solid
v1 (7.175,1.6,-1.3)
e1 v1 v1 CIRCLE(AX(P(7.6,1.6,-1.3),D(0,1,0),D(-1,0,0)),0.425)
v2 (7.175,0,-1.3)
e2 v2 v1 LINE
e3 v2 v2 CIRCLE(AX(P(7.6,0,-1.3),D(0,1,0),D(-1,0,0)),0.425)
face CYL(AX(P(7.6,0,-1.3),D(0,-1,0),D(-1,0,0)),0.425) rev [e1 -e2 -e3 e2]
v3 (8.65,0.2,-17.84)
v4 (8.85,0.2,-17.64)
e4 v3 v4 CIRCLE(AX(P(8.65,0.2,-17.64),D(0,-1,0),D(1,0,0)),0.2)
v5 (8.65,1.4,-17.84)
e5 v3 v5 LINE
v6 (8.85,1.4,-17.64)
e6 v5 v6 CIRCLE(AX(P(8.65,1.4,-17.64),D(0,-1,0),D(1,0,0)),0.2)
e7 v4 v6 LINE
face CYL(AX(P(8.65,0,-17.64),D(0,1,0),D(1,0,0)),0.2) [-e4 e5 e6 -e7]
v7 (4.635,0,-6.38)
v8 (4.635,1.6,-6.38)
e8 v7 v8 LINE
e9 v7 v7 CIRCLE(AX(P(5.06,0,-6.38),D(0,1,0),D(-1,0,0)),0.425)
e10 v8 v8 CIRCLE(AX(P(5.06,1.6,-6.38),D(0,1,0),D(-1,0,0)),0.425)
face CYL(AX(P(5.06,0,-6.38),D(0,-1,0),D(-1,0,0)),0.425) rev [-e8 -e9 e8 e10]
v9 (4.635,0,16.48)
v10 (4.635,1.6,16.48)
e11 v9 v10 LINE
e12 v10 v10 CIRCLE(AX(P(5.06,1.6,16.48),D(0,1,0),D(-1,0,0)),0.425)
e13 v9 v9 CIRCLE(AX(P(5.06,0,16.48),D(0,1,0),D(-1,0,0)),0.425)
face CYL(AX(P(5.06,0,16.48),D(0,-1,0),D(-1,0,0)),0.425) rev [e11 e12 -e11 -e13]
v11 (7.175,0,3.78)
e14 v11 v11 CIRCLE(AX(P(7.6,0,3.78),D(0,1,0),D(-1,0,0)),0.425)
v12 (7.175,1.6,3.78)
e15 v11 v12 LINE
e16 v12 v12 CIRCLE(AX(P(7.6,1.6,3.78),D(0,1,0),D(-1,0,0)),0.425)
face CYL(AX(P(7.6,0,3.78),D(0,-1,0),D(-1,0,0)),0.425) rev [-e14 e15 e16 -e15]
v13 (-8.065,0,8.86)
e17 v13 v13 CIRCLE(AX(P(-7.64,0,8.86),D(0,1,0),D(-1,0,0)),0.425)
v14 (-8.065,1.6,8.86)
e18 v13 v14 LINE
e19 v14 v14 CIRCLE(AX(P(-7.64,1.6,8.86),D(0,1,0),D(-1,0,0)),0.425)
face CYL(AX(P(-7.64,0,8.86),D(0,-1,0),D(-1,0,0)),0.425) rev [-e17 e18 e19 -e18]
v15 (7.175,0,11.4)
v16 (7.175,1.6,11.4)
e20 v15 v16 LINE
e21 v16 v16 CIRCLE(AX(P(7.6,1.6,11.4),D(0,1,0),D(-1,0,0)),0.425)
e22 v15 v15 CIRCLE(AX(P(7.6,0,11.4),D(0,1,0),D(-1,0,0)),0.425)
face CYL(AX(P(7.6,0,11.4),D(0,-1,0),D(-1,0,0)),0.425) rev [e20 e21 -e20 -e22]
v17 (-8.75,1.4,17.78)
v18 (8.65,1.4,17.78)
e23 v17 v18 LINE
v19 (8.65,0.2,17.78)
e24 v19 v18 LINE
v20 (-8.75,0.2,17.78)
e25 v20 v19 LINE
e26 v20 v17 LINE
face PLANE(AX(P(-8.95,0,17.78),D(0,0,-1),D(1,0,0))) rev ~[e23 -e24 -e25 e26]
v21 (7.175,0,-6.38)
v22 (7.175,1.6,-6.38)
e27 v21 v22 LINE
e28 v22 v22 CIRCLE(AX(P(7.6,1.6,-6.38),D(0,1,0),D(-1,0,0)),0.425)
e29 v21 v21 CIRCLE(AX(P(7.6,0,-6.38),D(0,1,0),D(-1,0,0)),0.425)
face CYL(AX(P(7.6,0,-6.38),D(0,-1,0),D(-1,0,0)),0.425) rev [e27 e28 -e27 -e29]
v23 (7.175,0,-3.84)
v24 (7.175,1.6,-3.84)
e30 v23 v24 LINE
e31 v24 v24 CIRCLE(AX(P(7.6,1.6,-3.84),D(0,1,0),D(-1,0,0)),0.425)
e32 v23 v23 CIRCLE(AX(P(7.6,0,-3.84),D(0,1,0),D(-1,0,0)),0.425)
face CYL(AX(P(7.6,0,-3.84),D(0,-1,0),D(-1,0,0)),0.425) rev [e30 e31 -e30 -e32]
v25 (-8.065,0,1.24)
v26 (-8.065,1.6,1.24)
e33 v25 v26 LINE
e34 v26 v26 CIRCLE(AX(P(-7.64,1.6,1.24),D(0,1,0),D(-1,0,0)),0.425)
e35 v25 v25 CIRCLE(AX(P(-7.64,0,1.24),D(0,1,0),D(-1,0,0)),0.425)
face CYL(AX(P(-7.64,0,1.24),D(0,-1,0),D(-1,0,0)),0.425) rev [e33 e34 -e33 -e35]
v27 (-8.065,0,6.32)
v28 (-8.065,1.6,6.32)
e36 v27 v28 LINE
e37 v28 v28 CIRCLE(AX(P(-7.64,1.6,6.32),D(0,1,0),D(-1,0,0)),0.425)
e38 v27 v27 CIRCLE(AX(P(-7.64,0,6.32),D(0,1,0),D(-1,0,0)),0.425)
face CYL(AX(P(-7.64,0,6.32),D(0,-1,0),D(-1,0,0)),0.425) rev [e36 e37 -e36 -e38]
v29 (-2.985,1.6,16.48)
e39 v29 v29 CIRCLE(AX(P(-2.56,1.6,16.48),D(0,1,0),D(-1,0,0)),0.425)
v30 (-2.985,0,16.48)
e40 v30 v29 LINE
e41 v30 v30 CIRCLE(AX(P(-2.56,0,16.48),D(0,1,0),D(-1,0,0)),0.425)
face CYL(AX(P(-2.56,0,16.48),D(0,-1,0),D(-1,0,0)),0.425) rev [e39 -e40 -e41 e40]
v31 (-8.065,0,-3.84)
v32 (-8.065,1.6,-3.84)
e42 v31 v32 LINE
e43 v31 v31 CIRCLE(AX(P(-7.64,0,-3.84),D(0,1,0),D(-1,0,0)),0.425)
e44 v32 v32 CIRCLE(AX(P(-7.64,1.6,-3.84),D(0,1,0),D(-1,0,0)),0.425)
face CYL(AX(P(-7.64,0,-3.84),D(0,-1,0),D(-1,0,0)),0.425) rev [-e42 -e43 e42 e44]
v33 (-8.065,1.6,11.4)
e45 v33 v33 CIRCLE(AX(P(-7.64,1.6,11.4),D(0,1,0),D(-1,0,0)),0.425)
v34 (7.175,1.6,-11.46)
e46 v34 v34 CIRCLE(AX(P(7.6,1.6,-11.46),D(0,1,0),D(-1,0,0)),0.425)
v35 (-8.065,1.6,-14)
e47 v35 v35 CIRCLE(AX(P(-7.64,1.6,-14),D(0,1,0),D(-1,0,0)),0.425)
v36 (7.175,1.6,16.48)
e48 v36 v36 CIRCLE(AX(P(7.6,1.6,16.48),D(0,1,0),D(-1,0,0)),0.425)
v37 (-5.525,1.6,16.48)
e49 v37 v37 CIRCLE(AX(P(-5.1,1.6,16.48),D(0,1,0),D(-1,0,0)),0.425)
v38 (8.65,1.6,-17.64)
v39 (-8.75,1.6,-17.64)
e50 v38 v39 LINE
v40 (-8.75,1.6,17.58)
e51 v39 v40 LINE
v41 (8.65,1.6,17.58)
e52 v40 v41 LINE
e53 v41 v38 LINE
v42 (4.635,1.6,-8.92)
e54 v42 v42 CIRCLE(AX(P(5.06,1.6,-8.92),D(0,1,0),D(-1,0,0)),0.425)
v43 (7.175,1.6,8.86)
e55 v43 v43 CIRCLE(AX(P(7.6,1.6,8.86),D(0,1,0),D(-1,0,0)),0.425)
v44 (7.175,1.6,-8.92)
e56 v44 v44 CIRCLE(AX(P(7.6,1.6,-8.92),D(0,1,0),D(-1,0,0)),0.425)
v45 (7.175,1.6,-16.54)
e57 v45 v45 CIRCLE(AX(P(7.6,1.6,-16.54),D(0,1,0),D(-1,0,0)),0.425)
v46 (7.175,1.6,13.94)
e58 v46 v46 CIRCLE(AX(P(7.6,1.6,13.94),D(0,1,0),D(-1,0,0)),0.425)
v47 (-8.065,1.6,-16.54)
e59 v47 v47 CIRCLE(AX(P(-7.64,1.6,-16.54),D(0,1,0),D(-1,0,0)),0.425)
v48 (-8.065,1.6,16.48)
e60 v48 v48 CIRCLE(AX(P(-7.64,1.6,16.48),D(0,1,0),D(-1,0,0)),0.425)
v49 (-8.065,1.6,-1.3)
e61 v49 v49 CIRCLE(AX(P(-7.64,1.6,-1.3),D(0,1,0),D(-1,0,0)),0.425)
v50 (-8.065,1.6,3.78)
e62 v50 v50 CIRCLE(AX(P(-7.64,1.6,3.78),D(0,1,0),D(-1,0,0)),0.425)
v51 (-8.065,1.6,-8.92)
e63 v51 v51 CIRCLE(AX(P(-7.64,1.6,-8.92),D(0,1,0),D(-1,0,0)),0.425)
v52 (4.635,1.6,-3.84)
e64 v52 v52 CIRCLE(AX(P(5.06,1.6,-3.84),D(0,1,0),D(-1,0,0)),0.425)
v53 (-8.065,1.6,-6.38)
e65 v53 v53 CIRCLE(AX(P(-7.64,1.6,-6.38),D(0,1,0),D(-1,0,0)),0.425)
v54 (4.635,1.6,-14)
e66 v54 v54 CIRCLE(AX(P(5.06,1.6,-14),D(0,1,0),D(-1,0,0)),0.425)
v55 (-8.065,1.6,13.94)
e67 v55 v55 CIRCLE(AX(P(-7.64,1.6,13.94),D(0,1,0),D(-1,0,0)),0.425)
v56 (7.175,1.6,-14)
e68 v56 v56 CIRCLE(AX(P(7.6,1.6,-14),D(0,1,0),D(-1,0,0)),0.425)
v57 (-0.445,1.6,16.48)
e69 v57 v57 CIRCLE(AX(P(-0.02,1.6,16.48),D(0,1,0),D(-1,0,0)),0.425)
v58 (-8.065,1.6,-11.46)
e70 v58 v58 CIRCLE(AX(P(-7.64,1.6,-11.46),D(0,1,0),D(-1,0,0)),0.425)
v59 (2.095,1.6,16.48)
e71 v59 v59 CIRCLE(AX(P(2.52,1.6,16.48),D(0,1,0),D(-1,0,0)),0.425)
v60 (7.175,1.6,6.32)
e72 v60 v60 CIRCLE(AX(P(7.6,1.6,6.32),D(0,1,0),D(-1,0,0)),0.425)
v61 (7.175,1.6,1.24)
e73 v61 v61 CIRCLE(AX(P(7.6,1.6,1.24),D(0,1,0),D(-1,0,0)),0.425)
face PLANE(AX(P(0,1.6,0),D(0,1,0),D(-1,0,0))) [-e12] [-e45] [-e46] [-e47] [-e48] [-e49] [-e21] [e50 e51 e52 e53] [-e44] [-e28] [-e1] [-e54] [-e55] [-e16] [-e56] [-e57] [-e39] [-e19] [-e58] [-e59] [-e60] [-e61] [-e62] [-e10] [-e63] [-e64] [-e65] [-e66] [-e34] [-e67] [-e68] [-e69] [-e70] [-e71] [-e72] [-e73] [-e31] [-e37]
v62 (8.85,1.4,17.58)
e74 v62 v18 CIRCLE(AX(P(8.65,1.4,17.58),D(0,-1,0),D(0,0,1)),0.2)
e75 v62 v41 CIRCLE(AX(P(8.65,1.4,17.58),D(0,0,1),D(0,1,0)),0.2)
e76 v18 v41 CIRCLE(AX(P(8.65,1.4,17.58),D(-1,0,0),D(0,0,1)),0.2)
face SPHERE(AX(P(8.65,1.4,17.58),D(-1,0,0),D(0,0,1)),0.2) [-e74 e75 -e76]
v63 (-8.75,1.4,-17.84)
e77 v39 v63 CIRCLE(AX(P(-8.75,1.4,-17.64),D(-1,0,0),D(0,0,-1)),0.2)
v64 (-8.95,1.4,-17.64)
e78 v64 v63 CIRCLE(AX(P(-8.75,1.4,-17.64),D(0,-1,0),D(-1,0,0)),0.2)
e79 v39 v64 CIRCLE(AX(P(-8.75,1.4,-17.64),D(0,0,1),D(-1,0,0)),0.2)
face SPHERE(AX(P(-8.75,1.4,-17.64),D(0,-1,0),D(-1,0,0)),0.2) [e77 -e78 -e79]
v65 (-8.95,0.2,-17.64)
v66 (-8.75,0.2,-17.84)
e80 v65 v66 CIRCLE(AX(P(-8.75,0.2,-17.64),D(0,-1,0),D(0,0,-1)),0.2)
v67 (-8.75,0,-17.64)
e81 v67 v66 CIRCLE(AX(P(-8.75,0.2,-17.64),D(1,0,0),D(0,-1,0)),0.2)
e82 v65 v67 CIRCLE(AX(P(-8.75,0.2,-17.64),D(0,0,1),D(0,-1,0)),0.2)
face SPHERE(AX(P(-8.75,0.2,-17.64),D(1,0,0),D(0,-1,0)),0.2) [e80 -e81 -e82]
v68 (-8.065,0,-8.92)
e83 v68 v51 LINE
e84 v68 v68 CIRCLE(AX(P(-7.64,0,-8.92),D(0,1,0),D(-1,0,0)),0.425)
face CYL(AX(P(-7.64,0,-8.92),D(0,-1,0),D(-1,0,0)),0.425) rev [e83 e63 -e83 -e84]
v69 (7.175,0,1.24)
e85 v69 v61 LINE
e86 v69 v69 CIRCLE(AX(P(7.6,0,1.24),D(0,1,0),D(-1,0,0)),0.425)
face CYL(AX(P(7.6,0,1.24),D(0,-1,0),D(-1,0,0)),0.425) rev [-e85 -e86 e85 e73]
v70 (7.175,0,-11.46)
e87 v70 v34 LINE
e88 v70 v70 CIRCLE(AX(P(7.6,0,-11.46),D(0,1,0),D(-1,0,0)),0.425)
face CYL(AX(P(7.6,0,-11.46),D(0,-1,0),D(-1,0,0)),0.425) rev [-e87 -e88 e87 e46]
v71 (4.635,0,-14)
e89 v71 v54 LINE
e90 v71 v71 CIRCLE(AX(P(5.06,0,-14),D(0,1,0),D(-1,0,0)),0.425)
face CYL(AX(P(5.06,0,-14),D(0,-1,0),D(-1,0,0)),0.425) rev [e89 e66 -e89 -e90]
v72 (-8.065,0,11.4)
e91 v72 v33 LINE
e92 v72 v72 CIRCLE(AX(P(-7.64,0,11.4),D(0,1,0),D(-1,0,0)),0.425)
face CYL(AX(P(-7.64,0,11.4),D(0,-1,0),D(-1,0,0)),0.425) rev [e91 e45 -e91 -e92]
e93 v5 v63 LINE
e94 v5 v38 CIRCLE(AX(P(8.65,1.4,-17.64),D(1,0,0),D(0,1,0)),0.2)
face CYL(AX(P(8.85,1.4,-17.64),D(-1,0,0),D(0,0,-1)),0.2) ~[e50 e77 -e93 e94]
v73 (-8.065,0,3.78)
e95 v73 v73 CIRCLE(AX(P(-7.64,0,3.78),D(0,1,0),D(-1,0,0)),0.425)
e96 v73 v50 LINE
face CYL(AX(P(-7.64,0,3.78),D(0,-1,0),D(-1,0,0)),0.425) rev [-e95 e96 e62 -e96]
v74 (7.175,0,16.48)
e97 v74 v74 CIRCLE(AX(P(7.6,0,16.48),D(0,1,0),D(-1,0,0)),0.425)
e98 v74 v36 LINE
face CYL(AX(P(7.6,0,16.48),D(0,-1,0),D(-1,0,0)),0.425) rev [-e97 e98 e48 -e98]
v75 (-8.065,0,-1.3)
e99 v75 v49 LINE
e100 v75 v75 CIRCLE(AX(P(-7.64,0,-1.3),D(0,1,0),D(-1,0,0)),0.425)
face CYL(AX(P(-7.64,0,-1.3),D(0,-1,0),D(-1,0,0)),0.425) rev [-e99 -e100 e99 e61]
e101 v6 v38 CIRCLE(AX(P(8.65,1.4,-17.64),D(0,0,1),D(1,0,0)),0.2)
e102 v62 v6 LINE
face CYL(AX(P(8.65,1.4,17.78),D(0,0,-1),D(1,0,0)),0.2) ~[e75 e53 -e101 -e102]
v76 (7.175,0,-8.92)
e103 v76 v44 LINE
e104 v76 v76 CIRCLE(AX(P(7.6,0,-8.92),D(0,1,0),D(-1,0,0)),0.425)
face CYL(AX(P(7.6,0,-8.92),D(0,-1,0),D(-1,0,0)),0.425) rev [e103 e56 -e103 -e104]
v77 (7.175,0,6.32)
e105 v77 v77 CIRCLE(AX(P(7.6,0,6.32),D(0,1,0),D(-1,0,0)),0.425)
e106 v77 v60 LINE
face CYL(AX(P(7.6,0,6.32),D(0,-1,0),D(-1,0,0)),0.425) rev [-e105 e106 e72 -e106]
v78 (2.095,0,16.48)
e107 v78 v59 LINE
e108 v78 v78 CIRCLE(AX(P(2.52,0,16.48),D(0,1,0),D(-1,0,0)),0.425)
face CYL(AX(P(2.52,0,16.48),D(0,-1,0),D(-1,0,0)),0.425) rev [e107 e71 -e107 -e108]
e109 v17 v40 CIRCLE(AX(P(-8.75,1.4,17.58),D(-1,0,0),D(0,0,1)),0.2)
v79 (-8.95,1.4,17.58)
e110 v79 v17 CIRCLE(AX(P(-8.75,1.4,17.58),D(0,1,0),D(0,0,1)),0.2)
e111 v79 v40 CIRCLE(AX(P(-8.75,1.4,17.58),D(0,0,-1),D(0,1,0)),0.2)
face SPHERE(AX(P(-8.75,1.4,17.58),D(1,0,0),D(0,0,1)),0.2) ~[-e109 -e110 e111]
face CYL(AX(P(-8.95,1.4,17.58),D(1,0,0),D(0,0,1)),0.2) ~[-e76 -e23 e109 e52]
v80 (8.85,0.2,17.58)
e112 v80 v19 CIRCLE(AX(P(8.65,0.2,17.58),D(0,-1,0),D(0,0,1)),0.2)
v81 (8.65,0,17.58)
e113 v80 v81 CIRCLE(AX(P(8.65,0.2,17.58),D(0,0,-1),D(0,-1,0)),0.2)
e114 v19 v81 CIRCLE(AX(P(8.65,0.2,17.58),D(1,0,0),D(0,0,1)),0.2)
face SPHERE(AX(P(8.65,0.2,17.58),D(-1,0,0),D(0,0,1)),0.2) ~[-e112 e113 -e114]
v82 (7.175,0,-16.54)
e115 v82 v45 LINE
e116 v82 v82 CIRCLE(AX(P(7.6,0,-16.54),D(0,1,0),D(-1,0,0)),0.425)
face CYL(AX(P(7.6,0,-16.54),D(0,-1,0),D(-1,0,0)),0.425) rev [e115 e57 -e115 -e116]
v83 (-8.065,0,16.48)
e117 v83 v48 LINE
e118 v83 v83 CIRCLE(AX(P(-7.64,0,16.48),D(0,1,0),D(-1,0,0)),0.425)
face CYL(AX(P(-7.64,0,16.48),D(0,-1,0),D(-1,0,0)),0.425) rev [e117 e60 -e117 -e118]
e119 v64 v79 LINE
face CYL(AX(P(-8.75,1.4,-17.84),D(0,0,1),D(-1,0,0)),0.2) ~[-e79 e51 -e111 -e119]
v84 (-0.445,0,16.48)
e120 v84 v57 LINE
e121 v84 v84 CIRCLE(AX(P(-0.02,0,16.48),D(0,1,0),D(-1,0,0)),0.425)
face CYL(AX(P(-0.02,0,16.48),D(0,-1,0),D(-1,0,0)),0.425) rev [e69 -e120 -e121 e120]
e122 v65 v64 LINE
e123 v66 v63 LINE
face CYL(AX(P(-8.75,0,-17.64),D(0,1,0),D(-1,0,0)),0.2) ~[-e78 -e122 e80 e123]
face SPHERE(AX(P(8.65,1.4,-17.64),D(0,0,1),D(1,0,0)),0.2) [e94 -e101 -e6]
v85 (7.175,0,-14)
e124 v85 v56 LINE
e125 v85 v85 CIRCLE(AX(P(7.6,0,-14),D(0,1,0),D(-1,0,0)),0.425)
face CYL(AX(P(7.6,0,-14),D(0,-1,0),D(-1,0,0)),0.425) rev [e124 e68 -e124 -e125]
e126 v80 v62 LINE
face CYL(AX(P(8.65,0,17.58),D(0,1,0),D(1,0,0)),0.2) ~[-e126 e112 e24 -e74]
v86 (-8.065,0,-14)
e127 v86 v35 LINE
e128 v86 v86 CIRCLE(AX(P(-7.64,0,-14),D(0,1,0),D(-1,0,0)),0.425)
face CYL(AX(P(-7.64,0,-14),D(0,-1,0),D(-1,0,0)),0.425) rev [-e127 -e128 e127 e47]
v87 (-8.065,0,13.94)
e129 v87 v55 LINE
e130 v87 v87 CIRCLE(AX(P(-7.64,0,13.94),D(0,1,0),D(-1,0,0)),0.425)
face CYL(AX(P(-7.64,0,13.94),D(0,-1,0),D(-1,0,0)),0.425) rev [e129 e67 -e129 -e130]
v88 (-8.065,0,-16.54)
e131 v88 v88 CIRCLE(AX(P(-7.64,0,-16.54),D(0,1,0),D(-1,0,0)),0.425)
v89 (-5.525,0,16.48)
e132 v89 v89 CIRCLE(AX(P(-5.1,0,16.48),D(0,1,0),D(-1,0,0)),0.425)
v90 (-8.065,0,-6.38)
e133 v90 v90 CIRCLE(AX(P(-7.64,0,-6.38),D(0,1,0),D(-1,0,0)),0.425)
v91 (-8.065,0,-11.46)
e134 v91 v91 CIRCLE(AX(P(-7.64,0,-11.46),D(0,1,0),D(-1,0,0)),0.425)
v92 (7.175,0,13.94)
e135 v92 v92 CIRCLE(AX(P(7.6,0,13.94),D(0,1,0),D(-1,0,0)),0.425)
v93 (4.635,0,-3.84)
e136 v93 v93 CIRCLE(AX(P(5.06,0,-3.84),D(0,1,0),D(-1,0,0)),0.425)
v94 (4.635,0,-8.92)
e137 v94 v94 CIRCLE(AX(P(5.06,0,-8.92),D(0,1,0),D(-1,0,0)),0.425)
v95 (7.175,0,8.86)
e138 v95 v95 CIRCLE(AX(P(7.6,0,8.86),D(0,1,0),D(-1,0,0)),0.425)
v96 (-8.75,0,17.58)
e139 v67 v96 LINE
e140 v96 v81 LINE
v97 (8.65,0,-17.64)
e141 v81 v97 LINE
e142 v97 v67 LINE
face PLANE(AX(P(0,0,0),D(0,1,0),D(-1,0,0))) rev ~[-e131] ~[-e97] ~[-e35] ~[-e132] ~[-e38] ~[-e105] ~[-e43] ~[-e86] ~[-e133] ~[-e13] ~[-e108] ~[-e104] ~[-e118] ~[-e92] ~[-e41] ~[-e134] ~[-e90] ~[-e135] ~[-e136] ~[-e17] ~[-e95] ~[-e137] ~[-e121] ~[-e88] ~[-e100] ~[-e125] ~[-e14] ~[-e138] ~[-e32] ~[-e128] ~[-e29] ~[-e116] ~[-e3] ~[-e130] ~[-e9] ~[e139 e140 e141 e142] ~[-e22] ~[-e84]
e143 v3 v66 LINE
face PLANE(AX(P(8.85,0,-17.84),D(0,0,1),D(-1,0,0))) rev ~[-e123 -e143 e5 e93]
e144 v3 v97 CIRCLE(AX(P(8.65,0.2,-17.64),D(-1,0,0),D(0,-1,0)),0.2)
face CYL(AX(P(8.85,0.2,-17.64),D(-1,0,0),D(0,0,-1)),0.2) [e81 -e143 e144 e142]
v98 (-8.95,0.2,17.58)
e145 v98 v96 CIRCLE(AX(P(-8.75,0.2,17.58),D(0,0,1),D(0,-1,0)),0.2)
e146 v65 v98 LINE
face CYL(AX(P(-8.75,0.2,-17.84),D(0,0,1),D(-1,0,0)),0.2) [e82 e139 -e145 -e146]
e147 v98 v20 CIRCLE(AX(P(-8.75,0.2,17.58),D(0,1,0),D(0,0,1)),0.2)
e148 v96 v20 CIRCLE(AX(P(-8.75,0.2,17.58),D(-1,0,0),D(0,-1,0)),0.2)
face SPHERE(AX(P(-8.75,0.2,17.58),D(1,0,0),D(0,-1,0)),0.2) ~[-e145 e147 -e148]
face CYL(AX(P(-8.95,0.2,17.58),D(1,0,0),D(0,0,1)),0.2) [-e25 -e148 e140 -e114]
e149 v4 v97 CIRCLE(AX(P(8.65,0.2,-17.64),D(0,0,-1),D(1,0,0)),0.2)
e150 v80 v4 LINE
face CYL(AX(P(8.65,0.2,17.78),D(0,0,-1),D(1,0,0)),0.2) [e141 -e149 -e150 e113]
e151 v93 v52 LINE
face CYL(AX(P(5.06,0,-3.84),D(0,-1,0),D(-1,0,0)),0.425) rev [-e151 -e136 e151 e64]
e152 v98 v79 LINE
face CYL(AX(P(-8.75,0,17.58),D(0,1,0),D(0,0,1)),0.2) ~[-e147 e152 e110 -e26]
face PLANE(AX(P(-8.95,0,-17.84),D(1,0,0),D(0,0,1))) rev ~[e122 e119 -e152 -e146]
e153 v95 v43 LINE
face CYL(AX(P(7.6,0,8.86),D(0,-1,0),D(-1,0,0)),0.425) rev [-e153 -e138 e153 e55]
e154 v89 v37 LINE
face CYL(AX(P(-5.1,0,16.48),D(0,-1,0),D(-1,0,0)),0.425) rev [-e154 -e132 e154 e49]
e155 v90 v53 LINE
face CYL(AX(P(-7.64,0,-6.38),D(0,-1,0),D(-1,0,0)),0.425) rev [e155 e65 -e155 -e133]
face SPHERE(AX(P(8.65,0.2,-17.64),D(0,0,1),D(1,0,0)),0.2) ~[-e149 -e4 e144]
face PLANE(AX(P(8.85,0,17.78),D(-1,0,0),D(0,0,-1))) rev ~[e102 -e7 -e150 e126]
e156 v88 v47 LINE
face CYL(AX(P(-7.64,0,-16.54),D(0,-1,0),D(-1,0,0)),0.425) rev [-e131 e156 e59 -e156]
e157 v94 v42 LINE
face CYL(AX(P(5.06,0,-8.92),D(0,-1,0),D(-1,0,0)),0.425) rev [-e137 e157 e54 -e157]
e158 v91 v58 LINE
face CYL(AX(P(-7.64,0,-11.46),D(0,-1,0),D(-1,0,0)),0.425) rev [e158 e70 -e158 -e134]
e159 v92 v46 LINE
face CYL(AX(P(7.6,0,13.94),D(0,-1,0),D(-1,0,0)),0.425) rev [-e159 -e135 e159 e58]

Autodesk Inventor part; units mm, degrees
ref_plane "YZ Plane" through (0, 0, 0) normal (1, 0, 0) x (0, 1, 0)
sketch "Schizzo1" plane through (0, 0, 0) normal (0, 1, 0) x (-1, 0, 0)
  line L0 (-8.85, -17.84) -> (8.95, -17.84)
  line L1 (8.95, -17.84) -> (8.95, 17.78)
  line L2 (8.95, 17.78) -> (-8.85, 17.78)
  line L3 (-8.85, 17.78) -> (-8.85, -17.84)
  line L4 (-8.85, 17.78) -> (8.95, -17.84) construction
  line L5 (8.95, 17.78) -> (-8.85, -17.84) construction
  line L6 (8.95, 16.48) -> (-8.95, 16.48) construction
  line L7 (-7.6, 17.78) -> (-7.6, -17.84) construction
  circle A0 centre (-7.6, 16.48) radius 0.425
  circle A1 centre (-7.6, 13.94) radius 0.425
  circle A2 centre (-7.6, 11.4) radius 0.425
  circle A3 centre (-7.6, 8.86) radius 0.425
  circle A4 centre (-7.6, 6.32) radius 0.425
  circle A5 centre (-7.6, 3.78) radius 0.425
  circle A6 centre (-7.6, 1.24) radius 0.425
  circle A7 centre (-7.6, -1.3) radius 0.425
  circle A8 centre (-7.6, -3.84) radius 0.425
  circle A9 centre (-7.6, -6.38) radius 0.425
  circle A10 centre (-7.6, -8.92) radius 0.425
  circle A11 centre (-7.6, -11.46) radius 0.425
  circle A12 centre (-7.6, -14) radius 0.425
  circle A13 centre (-7.6, -16.54) radius 0.425
  circle A14 centre (-5.06, 16.48) radius 0.425
  circle A15 centre (-2.52, 16.48) radius 0.425
  circle A16 centre (0.02, 16.48) radius 0.425
  circle A17 centre (2.56, 16.48) radius 0.425
  circle A18 centre (5.1, 16.48) radius 0.425
  circle A19 centre (7.64, 16.48) radius 0.425
  circle A20 centre (7.64, 13.94) radius 0.425
  circle A21 centre (7.64, 11.4) radius 0.425
  circle A22 centre (7.64, 8.86) radius 0.425
  circle A23 centre (7.64, 6.32) radius 0.425
  circle A24 centre (7.64, 3.78) radius 0.425
  circle A25 centre (7.64, 1.24) radius 0.425
  circle A26 centre (7.64, -1.3) radius 0.425
  circle A27 centre (7.64, -3.84) radius 0.425
  circle A28 centre (7.64, -6.38) radius 0.425
  circle A29 centre (7.64, -8.92) radius 0.425
  circle A30 centre (7.64, -11.46) radius 0.425
  circle A31 centre (7.64, -14) radius 0.425
  circle A32 centre (7.64, -16.54) radius 0.425
  circle A33 centre (-5.06, -14) radius 0.425
  circle A34 centre (-5.06, -8.92) radius 0.425
  circle A35 centre (-5.06, -6.38) radius 0.425
  circle A36 centre (-5.06, -3.84) radius 0.425
  point P0 (0, 0)
  point P1 (0.05, -0.03)
  dimension "d0" = 17.8
  dimension "d1" = 35.62
  dimension "d4" = 1.3
  dimension "d5" = 1.25
  dimension "d6" = 0.85
  dimension "d9" = 2.54
  dimension "d16" = 2.54
  dimension "d23" = 2.54
  dimension "d79" = 2.54
extrude "Estrusione2" add sketch "Schizzo1" along normal blind 1.6
fillet "Raccordo1" radius 0.2 12 edges at (-0.05, 0, 17.78) (-0.05, 1.6, 17.78) (8.85, 0.8, 17.78) (8.85, 0, -0.03) (8.85, 1.6, -0.03) (8.85, 0.8, -17.84) (-0.05, 0, -17.84) (-8.95, 0, -0.03) (-8.95, 0.8, -17.84) (-8.95, 0.8, 17.78) (-8.95, 1.6, -0.03) (-0.05, 1.6, -17.84)
ref_plane "Piano di lavoro1" through (0, 13.85, 0) normal (0, 1, 0) x (1, 0, 0)
sketch "Schizzo2" plane through (0, 13.85, 0) normal (0, 1, 0) x (1, 0, 0)
  line L0 (8.8439, 19.3342) -> (8.8439, -17.791) construction
  line L1 (8.8439, -17.791) -> (-8.9298, -17.791) construction
  line L2 (-8.9298, -17.791) -> (-8.9298, 19.3342) construction
  line L3 (-8.9298, 19.3342) -> (8.8439, 19.3342) construction
  point P0 (0, 0)
decal "Decalcomania1"
ref_plane "Piano di lavoro2" through (0, -10.75, 0) normal (0, -1, 0) x (1, 0, 0)
sketch "Schizzo3" plane through (0, -10.75, 0) normal (0, -1, 0) x (1, 0, 0)
  line L0 (9.0107, 17.7535) -> (9.0107, -19.0765) construction
  line L1 (9.0107, -19.0765) -> (-8.7138, -19.0765) construction
  line L2 (-8.7138, -19.0765) -> (-8.7138, 17.7535) construction
  line L3 (-8.7138, 17.7535) -> (9.0107, 17.7535) construction
  point P0 (0, 0)
decal "Decalcomania2"
sketch "Schizzo4" plane through (0, 1.6, 0) normal (0, 1, 0) x (1, 0, 0)
  circle A0 centre (7.6, 11.46) radius 0.425 projected
sketch "Schizzo5" plane through (0, 1.6, 0) normal (0, 1, 0) x (1, 0, 0)
  circle A0 centre (7.6, -1.24) radius 0.425 projected
sketch "Schizzo6" plane through (0, 1.6, 0) normal (0, 1, 0) x (1, 0, 0)
  circle A0 centre (7.6, -3.78) radius 0.425 projected
sketch "Schizzo7" plane through (0, 1.6, 0) normal (0, 1, 0) x (1, 0, 0)
  circle A0 centre (-7.64, 16.54) radius 0.425 projected
sketch "Schizzo8" plane through (0, 1.6, 0) normal (0, 1, 0) x (1, 0, 0)
  circle A0 centre (-7.64, 14) radius 0.425 projected
sketch "Schizzo9" plane through (0, 1.6, 0) normal (0, 1, 0) x (1, 0, 0)
  circle A0 centre (-7.64, 11.46) radius 0.425 projected
sketch "Sketch10" plane through (0, 0, 0) normal (0, -1, 0) x (1, 0, 0)
  circle A0 centre (7.6, -11.46) radius 0.425 projected
sketch "Schizzo11" plane through (0, 0, 0) normal (0, -1, 0) x (1, 0, 0)
  circle A0 centre (-7.64, -16.54) radius 0.425 projected
sketch "Schizzo12" plane through (0, 1.6, 0) normal (0, 1, 0) x (1, 0, 0)
  circle A0 centre (-7.64, -11.4) radius 0.425 projected
sketch "Schizzo13" plane through (0, 1.6, 0) normal (0, 1, 0) x (1, 0, 0)
  circle A0 centre (-7.64, -8.86) radius 0.425 projected
sketch "Schizzo14" plane through (0, 0, 0) normal (0, -1, 0) x (1, 0, 0)
  circle A0 centre (7.6, 1.24) radius 0.425 projected
sketch "Schizzo15" plane through (0, 0, 0) normal (0, -1, 0) x (1, 0, 0)
  circle A0 centre (7.6, 3.78) radius 0.425 projected
properties part number "101" material "Plastica ABS"
